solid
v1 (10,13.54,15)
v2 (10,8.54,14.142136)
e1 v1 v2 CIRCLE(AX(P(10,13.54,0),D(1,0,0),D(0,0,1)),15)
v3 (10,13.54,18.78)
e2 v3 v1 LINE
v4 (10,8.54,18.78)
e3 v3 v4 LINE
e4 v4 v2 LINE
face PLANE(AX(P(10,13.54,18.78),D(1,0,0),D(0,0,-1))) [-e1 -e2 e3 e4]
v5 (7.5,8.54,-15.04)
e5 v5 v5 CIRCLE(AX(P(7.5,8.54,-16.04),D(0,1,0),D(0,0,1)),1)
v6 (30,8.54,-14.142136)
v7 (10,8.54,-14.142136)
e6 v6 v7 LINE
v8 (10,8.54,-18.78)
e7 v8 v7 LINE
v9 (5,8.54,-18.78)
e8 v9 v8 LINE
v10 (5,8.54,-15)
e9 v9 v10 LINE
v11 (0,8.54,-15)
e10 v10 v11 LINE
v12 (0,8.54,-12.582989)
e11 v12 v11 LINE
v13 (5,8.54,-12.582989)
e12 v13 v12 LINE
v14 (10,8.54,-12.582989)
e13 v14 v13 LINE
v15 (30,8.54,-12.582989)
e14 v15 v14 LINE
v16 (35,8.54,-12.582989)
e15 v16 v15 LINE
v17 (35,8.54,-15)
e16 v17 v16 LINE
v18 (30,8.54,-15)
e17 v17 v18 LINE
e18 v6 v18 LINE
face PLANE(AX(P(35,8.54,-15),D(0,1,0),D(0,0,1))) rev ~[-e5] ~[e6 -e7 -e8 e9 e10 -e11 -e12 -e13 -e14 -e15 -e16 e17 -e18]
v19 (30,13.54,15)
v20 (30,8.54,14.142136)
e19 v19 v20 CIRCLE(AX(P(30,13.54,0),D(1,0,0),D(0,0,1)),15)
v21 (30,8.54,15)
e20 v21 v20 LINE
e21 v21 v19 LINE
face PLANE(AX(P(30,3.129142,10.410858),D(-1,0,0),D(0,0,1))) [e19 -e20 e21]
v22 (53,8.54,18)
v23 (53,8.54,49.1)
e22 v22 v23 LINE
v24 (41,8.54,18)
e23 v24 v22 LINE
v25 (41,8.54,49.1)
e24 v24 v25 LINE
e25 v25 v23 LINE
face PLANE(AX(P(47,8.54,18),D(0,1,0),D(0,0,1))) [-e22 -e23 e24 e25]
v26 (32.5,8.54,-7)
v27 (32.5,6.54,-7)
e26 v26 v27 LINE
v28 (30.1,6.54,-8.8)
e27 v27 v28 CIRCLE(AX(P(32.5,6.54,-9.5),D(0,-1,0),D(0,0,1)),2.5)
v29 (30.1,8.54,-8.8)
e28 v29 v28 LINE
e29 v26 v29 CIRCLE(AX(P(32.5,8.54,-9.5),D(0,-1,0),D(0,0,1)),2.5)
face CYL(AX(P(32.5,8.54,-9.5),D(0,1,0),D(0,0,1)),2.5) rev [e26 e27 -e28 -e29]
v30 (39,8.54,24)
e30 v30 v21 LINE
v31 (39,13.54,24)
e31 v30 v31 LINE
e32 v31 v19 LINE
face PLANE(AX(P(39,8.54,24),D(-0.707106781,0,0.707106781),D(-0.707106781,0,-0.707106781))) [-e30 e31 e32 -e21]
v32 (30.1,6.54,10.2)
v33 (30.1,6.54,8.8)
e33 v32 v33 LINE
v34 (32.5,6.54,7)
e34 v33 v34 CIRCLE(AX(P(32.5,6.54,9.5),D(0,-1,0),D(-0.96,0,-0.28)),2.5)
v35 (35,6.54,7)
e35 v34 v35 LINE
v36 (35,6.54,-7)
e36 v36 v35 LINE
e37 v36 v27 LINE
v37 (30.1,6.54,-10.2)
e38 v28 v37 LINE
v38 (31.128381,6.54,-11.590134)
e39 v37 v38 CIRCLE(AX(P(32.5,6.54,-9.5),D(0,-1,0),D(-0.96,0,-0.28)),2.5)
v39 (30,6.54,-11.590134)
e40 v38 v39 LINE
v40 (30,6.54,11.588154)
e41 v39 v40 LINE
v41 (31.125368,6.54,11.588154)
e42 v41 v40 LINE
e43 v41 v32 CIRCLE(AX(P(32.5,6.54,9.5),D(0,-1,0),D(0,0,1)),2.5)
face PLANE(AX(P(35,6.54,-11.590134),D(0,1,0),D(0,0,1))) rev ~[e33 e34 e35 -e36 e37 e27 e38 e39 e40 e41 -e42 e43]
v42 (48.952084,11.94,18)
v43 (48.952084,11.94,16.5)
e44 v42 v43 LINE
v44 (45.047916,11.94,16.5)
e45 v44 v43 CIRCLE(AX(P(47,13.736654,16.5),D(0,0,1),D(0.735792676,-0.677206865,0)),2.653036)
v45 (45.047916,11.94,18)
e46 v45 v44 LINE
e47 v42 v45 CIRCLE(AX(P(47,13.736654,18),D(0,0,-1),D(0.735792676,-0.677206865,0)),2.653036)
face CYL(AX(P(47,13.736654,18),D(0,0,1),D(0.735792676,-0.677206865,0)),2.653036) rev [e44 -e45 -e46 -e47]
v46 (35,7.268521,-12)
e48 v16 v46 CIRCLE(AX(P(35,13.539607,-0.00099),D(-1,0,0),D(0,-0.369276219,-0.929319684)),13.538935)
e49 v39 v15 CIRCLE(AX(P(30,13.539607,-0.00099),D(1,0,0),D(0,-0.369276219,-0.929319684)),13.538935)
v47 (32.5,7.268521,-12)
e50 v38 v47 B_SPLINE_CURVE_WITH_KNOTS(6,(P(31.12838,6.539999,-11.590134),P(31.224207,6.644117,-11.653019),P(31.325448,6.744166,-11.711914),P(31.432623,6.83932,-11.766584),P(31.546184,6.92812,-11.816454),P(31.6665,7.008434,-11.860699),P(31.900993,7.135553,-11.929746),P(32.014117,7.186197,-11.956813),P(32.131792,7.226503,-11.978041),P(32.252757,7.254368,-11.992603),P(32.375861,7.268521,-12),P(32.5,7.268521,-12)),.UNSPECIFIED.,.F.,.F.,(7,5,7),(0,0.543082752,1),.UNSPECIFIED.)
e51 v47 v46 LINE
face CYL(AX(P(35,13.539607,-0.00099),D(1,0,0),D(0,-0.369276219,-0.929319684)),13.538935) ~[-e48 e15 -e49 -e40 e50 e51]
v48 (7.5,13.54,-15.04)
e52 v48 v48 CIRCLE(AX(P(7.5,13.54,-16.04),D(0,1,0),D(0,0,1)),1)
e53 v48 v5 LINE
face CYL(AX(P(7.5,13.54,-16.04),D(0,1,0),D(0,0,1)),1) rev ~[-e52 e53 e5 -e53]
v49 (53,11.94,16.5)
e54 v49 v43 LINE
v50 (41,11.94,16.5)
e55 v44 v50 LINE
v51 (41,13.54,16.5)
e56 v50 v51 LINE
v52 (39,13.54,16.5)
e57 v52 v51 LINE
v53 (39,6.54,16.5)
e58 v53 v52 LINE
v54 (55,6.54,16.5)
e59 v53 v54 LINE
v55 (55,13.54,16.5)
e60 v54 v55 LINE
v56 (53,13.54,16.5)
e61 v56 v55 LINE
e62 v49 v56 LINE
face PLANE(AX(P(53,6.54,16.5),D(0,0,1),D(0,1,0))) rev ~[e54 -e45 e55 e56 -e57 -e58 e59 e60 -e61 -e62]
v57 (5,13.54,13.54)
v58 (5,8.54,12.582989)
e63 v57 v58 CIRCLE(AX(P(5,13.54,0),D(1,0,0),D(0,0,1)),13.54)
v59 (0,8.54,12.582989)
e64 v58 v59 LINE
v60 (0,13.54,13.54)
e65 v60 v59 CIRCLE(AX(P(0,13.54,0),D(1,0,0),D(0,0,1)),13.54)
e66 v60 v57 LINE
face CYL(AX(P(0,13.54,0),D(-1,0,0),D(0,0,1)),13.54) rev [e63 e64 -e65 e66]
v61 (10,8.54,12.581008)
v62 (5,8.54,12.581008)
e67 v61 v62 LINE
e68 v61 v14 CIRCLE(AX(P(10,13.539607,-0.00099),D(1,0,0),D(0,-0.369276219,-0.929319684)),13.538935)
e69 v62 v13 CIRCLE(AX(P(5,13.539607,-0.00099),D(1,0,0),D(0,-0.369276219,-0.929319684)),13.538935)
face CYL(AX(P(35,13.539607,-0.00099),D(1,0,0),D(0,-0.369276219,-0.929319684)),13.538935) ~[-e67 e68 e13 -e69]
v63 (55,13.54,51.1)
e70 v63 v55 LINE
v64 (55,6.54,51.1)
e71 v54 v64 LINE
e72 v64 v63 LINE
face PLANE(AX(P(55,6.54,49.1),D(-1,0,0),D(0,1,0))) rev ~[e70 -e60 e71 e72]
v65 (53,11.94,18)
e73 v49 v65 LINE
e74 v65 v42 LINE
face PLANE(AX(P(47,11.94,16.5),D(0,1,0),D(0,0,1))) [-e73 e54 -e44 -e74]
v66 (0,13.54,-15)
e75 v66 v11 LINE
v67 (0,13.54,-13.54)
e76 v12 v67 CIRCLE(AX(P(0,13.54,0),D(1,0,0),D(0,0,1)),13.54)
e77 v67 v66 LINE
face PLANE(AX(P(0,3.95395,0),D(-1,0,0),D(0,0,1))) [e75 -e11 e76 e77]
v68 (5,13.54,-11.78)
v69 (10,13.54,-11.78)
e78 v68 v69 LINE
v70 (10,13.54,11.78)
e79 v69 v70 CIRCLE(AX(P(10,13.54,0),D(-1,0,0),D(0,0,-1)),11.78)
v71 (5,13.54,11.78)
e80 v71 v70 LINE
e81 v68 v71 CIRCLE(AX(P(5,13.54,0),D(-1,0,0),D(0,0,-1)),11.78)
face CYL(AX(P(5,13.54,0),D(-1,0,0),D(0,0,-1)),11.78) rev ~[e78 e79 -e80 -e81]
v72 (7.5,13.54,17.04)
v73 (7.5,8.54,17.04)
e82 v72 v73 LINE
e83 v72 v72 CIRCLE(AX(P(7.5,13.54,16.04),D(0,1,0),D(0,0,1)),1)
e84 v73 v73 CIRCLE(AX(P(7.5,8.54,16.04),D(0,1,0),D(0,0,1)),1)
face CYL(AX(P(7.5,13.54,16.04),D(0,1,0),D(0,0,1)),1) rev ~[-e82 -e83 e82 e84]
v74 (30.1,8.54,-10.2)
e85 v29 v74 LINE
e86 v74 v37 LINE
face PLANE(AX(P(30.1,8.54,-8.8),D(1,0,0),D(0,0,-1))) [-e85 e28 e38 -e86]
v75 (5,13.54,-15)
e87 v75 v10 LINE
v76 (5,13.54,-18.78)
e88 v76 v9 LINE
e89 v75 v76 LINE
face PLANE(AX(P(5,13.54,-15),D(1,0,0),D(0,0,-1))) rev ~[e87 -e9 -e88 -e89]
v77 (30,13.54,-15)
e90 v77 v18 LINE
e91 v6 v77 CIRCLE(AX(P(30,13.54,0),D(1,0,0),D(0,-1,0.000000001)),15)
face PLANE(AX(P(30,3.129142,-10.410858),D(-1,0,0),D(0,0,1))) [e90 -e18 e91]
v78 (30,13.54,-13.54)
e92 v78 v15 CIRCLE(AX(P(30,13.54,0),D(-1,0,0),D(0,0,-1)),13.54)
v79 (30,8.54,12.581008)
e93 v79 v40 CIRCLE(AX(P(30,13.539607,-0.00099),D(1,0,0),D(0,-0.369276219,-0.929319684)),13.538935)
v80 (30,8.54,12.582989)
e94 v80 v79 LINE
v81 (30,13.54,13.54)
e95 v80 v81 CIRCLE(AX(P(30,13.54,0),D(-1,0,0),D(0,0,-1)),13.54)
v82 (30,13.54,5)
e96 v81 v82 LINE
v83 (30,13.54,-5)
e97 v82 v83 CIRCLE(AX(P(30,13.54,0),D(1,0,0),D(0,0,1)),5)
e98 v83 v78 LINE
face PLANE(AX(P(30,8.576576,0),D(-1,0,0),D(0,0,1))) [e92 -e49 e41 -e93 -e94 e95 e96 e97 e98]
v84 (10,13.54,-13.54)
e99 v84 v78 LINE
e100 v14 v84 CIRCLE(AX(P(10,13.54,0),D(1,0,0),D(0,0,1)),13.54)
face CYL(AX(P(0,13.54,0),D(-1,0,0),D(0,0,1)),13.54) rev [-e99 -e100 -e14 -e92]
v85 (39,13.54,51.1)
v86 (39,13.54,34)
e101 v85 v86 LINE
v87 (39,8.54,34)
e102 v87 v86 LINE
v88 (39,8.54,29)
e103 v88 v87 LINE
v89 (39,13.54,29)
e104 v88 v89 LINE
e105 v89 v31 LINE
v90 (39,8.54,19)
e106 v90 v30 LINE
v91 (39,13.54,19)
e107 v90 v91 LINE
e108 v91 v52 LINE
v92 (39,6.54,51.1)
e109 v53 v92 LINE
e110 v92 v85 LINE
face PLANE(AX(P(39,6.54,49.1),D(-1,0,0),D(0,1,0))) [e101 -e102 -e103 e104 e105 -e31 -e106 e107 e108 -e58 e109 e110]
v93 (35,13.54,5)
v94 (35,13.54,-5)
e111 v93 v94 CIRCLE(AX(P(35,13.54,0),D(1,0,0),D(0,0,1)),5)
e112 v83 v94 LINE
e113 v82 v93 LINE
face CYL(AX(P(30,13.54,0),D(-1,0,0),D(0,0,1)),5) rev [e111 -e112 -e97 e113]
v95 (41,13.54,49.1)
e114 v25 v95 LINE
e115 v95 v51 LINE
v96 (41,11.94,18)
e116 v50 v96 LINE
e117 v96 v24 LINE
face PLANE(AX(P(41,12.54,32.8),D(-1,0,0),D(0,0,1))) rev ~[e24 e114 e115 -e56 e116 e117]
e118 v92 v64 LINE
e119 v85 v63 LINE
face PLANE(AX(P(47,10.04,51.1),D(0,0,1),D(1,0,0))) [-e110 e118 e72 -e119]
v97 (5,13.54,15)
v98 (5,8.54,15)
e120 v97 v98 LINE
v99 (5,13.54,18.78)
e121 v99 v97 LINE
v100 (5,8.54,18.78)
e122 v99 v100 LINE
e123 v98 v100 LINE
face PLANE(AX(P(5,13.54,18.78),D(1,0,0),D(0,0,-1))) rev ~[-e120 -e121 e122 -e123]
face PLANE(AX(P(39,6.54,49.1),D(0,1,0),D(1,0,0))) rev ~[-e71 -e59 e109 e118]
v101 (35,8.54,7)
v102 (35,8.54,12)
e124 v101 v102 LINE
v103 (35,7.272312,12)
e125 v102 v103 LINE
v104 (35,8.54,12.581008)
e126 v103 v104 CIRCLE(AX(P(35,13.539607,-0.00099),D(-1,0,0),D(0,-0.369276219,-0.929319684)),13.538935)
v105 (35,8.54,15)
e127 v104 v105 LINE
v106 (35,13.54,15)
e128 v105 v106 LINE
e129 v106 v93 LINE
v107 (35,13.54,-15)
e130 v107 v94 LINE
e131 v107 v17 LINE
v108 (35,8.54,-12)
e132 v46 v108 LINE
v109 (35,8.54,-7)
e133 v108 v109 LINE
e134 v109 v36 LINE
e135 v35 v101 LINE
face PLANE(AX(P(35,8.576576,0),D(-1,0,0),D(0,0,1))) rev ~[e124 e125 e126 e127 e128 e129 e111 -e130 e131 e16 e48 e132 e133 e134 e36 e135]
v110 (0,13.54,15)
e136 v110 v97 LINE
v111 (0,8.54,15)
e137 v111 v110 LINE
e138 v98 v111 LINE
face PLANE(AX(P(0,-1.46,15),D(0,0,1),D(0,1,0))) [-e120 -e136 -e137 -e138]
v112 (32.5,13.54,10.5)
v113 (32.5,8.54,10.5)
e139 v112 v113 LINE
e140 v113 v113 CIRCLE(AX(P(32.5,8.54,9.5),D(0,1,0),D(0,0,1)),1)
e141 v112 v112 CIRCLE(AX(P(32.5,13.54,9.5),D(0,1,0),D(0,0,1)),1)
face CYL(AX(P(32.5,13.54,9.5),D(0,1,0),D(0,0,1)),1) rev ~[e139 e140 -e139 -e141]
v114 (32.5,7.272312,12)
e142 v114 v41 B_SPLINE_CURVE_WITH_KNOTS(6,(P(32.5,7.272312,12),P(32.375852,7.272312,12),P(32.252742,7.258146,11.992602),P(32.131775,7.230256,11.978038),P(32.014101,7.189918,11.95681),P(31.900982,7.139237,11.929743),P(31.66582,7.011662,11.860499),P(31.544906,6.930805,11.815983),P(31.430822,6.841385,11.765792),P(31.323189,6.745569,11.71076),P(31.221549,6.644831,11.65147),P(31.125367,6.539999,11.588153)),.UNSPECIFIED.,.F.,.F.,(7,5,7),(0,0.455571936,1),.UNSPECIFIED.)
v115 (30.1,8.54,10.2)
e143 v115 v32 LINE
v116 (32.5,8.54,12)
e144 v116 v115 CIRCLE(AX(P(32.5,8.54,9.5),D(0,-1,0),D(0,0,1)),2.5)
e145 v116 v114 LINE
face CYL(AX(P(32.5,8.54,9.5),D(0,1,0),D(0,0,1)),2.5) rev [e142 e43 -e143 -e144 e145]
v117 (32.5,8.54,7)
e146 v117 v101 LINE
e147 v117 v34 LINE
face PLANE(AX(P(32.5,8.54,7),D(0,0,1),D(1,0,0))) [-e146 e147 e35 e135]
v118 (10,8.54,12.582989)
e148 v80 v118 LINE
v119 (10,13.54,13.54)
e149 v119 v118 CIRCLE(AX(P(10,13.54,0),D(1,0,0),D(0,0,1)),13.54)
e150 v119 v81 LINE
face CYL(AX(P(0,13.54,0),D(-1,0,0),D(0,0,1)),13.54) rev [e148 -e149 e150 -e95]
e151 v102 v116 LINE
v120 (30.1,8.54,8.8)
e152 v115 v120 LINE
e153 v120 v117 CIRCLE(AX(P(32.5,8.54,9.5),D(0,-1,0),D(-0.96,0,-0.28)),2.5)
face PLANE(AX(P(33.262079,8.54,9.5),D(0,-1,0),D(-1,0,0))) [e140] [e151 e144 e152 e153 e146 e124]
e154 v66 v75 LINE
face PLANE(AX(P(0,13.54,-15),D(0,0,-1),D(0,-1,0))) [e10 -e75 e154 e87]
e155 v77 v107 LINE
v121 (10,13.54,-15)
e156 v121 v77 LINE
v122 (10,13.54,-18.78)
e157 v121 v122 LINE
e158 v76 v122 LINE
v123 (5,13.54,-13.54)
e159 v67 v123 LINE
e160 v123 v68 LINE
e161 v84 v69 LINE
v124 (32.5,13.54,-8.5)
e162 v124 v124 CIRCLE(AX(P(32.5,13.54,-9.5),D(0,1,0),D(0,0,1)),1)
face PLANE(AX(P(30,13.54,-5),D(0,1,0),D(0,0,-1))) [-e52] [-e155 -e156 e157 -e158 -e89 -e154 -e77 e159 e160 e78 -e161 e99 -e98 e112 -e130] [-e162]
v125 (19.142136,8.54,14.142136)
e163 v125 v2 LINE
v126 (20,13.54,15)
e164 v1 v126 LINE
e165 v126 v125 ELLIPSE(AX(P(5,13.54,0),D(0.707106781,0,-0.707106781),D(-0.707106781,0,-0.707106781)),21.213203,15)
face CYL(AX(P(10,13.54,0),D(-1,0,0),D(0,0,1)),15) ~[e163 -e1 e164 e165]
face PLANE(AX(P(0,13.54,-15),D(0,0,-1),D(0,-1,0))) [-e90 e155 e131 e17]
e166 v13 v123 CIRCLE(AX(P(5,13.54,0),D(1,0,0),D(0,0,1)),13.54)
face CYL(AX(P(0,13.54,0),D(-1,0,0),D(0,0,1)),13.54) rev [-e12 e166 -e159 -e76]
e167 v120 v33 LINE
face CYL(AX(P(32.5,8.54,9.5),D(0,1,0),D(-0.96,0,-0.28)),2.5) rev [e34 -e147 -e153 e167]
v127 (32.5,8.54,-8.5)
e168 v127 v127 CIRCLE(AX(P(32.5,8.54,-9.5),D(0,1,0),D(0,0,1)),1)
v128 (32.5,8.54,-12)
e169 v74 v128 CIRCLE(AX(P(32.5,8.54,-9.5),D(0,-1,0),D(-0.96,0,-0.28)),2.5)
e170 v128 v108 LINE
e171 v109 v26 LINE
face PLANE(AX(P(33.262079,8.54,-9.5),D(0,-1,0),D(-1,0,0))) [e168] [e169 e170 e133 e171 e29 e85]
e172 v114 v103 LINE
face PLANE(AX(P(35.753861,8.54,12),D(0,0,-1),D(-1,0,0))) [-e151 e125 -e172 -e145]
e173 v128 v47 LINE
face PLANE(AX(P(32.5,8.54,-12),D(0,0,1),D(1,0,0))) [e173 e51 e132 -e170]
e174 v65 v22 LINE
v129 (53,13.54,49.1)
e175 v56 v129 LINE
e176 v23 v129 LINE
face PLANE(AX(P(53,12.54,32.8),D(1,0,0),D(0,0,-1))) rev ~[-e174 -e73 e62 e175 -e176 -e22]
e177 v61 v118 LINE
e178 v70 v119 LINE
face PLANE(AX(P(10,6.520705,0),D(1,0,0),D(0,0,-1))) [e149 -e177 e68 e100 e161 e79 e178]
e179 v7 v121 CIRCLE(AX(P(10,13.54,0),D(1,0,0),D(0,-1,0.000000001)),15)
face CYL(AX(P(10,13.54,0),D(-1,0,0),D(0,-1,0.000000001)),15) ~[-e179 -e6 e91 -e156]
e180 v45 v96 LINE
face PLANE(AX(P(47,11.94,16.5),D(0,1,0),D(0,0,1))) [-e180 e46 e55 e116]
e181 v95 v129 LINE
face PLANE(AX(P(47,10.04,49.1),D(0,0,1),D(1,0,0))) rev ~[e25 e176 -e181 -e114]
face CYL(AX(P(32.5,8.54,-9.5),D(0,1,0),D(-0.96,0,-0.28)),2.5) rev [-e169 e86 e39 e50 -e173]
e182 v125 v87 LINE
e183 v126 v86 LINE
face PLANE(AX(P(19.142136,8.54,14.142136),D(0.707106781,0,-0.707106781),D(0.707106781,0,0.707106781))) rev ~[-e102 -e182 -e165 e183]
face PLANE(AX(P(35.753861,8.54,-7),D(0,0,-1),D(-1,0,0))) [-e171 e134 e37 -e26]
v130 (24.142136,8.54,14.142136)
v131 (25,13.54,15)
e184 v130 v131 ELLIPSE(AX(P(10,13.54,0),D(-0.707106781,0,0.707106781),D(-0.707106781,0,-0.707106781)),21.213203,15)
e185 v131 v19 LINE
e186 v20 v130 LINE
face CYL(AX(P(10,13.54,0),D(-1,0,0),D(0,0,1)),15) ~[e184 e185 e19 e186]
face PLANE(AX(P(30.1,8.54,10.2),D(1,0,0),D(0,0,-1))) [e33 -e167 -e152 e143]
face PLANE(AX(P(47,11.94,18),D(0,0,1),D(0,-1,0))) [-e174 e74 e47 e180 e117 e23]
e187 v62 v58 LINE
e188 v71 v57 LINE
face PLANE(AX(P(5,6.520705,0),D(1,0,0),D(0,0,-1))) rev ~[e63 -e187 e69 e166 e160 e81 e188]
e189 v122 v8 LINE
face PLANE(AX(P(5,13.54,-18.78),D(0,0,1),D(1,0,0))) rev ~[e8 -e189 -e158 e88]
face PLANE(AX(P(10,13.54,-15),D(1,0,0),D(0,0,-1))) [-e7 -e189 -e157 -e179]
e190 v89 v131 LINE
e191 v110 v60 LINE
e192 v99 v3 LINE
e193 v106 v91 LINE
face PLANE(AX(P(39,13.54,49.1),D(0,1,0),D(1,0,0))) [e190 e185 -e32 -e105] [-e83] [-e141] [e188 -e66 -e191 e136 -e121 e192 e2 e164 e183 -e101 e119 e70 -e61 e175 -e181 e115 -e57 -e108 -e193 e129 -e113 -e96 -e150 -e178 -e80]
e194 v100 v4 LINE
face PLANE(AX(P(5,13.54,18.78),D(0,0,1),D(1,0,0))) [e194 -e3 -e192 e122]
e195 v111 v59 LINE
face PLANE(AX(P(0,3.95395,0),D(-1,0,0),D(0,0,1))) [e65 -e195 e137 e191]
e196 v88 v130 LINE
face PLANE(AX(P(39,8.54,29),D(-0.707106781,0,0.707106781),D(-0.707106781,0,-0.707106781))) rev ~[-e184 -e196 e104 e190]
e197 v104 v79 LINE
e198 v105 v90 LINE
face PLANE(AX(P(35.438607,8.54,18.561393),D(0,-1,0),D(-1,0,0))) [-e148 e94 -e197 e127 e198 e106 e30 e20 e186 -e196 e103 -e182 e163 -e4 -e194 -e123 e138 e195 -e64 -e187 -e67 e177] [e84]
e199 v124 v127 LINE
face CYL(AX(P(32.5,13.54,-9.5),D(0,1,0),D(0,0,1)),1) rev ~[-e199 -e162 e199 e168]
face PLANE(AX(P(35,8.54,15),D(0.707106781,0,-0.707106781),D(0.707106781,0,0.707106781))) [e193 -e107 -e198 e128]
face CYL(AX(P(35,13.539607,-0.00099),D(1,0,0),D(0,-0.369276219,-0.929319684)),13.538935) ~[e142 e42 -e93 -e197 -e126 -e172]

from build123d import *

# Parameters (mm, degrees)
BOSS_EXTRUDE1_DEPTH     = 35
BOSS_EXTRUDE2_START     = -5
BOSS_EXTRUDE2_DEPTH     = 5
BOSS_EXTRUDE3_START     = -5
BOSS_EXTRUDE3_DEPTH     = 5
CUT_EXTRUDE1_DEPTH      = 31.1
SKETCH10_W              = 5
SKETCH10_H              = 3.78
BOSS_EXTRUDE6_DEPTH     = 5
CUT_EXTRUDE4_START      = -10
CUT_EXTRUDE4_DEPTH      = 20
SKETCH12_R              = 1
CUT_EXTRUDE5_DEPTH      = 10
CUT_EXTRUDE11_DEPTH     = 2
SKETCH14_R              = 2.5
CUT_EXTRUDE12_DEPTH     = 2
BOSS_EXTRUDE7_START     = -2
SKETCH15_R              = 2
BOSS_EXTRUDE7_DEPTH     = 5
BOSS_EXTRUDE8_DEPTH     = 6
SKETCH18_W              = 32.6
SKETCH18_H              = 12
BOSS_EXTRUDE9_DEPTH     = 2
SKETCH19_W              = 32.6
SKETCH19_H              = 12
BOSS_EXTRUDE10_DEPTH    = 2
CUT_EXTRUDE13_DEPTH     = 64.083608013
BOSS_EXTRUDE12_START    = -5
BOSS_EXTRUDE12_DEPTH    = 5
SKETCH22_W              = 16
SKETCH22_H              = 32.6
CUT_EXTRUDE14_DEPTH     = 5
SKETCH23_R              = 2
CUT_EXTRUDE15_DEPTH     = 5
SKETCH24_W              = 23.178287832
SKETCH24_H              = 10
CUT_EXTRUDE_THIN1_DEPTH = 5
CUT_EXTRUDE16_DEPTH     = 5
SKETCH26_W              = 16
SKETCH26_H              = 7
BOSS_EXTRUDE13_DEPTH    = 2


with BuildPart() as part:
    # Sketch2 → Boss-Extrude1 (new body)
    with BuildSketch(Plane(origin=(0, 0, 0), x_dir=(0, 0, -1), z_dir=(1, 0, 0))):
        with BuildLine():
            Line((-15, 13.54), (-13.54, 13.54))
            ThreePointArc((-13.54, 13.54), (0, 0), (13.54, 13.54))
            Line((13.54, 13.54), (15, 13.54))
            Line((15, 13.54), (15, -1.46))
            Line((15, -1.46), (0, -1.46))
            Line((0, -1.46), (-15, -1.46))
            Line((-15, -1.46), (-15, 13.54))
        make_face()
    extrude(amount=BOSS_EXTRUDE1_DEPTH)

    # Sketch3 → Boss-Extrude2 (add)
    with BuildSketch(Plane(origin=(35, 0, 0), x_dir=(0, 0, -1), z_dir=(1, 0, 0)).offset(BOSS_EXTRUDE2_START)):
        with BuildLine():
            Line((-13.54, 13.54), (-5, 13.54))
            ThreePointArc((-5, 13.54), (0, 8.54), (5, 13.54))
            Line((5, 13.54), (13.54, 13.54))
            ThreePointArc((13.54, 13.54), (0, 0), (-13.54, 13.54))
        make_face()
    extrude(amount=BOSS_EXTRUDE2_DEPTH)

    # Sketch4 → Boss-Extrude3 (add)
    with BuildSketch(Plane.ZY.offset(BOSS_EXTRUDE3_START)):
        with BuildLine():
            Line((-13.54, 13.54), (-11.78, 13.54))
            ThreePointArc((-11.78, 13.54), (0, 1.76), (11.78, 13.54))
            Line((11.78, 13.54), (13.54, 13.54))
            ThreePointArc((13.54, 13.54), (0, 0), (-13.54, 13.54))
        make_face()
    extrude(amount=-BOSS_EXTRUDE3_DEPTH)

    # Sketch7 → Cut-Extrude1 (cut)
    with BuildSketch(Plane(origin=(0, 0, -15), x_dir=(-1, 0, 0), z_dir=(0, 0, -1))):
        with BuildLine():
            Line((-33.5, -1.74), (-39.5, -1.74))
            Line((-39.5, -1.74), (-39.5, 4.26))
            ThreePointArc((-39.5, 4.26), (-35.257359313, 2.502640687), (-33.5, -1.74))
        make_face()
    extrude(amount=-CUT_EXTRUDE1_DEPTH, mode=Mode.SUBTRACT)

    # Sketch10 → Boss-Extrude6 (add)
    with BuildSketch(Plane(origin=(0, 13.54, 0), x_dir=(1, 0, 0), z_dir=(0, 1, 0))):
        with Locations((7.5, -16.89)):
            Rectangle(SKETCH10_W, SKETCH10_H)
        with Locations((7.5, 16.89)):
            Rectangle(SKETCH10_W, SKETCH10_H)
    extrude(amount=-BOSS_EXTRUDE6_DEPTH)

    # Sketch11 → Cut-Extrude4 (cut)
    with BuildSketch(Plane.ZY.offset(CUT_EXTRUDE4_START)):
        with BuildLine():
            ThreePointArc((15, 13.54), (10.606601722, 2.933398287), (1.2e-08, -1.46))
            Line((1.2e-08, -1.46), (15, -1.46))
            Line((15, -1.46), (15, 13.54))
        make_face()
        with BuildLine():
            ThreePointArc((1.2e-08, -1.46), (-10.606601713, 2.933398278), (-15, 13.54))
            Line((-15, 13.54), (-15, -1.46))
            Line((-15, -1.46), (1.2e-08, -1.46))
        make_face()
    extrude(amount=-CUT_EXTRUDE4_DEPTH, mode=Mode.SUBTRACT)

    # Sketch12 → Cut-Extrude5 (cut)
    with BuildSketch(Plane(origin=(0, 13.54, 0), x_dir=(1, 0, 0), z_dir=(0, 1, 0))):
        with Locations(Location((7.5, -16.04, 0), (0, 0, 270))):
            Circle(SKETCH12_R)
        with Locations(Location((7.5, 16.04, 0), (0, 0, 270))):
            Circle(SKETCH12_R)
        with Locations(Location((32.5, -9.5, 0), (0, 0, 270))):
            Circle(SKETCH12_R)
        with Locations(Location((32.5, 9.5, 0), (0, 0, 270))):
            Circle(SKETCH12_R)
    extrude(amount=-CUT_EXTRUDE5_DEPTH, mode=Mode.SUBTRACT)

    # Sketch13 → Cut-Extrude11 (cut)
    with BuildSketch(Plane(origin=(0, 8.54, 0), x_dir=(1, 0, 0), z_dir=(0, 1, 0))):
        with BuildLine():
            Line((32.5, 12), (35, 12))
            Line((35, 12), (35.753860742, 12))
            Line((35.753860742, 12), (35.753860742, 7))
            Line((35.753860742, 7), (35, 7))
            Line((35, 7), (32.5, 7))
            ThreePointArc((32.5, 7), (31, 7.5), (30.1, 8.8))
            Line((30.1, 8.8), (30.1, 9.5))
            Line((30.1, 9.5), (30.1, 10.2))
            ThreePointArc((30.1, 10.2), (31, 11.5), (32.5, 12))
        make_face()
        with BuildLine():
            Line((32.5, -7), (35, -7))
            Line((35, -7), (35.753860742, -7))
            Line((35.753860742, -7), (35.753860742, -12))
            Line((35.753860742, -12), (32.5, -12))
            ThreePointArc((32.5, -12), (31, -11.5), (30.1, -10.2))
            Line((30.1, -10.2), (30.1, -9.5))
            Line((30.1, -9.5), (30.1, -8.8))
            ThreePointArc((30.1, -8.8), (31, -7.5), (32.5, -7))
        make_face()
    extrude(amount=-CUT_EXTRUDE11_DEPTH, mode=Mode.SUBTRACT)

    # Sketch14 → Cut-Extrude12 (cut)
    with BuildSketch(Plane.XZ.offset(-8.54)):
        with Locations((7.5, 16.04)):
            Circle(SKETCH14_R)
        with Locations((7.5, -16.04)):
            Circle(SKETCH14_R)
    extrude(amount=CUT_EXTRUDE12_DEPTH, mode=Mode.SUBTRACT)

    # Sketch20 → Cut-Extrude13 (cut, through all)
    with BuildSketch(Plane(origin=(35, 0, 0), x_dir=(0, 0, -1), z_dir=(1, 0, 0))):
        with BuildLine():
            Line((15, 8.54), (12.582988516, 8.54))
            ThreePointArc((12.582988516, 8.54), (0.000990149, 0.000672008), (-12.581008218, 8.54))
            Line((-12.581008218, 8.54), (-15, 8.54))
            Line((-15, 8.54), (-15, -1.46))
            Line((-15, -1.46), (15, -1.46))
            Line((15, -1.46), (15, 8.54))
        make_face()
    extrude(amount=-CUT_EXTRUDE13_DEPTH, mode=Mode.SUBTRACT)



with BuildPart() as body_2:
    # Sketch15 → Boss-Extrude7 (new body)
    with BuildSketch(Plane(origin=(0, 0, 0), x_dir=(-1, 0, 0), z_dir=(0, 0, -1)).offset(BOSS_EXTRUDE7_START)):
        with Locations((-47.000109969, 13.54)):
            Circle(SKETCH15_R)
    extrude(amount=-BOSS_EXTRUDE7_DEPTH)

    # Sketch23 → Cut-Extrude15 (cut)
    with BuildSketch(Plane(origin=(0, 0, 2), x_dir=(-1, 0, 0), z_dir=(0, 0, -1))):
        with Locations((-47.000109969, 13.54)):
            Circle(SKETCH23_R)
    extrude(amount=-CUT_EXTRUDE15_DEPTH, mode=Mode.SUBTRACT)


with BuildPart() as body_3:
    # Sketch16 → Boss-Extrude8 (new, symmetric)
    with BuildSketch(Plane(origin=(47, 0, 0), x_dir=(0, 0, -1), z_dir=(1, 0, 0))):
        Polygon((-18, 11.94), (-18, 8.54), (-49.1, 8.54), (-49.1, 6.54), (-16.5, 6.54), (-16.5, 11.94), align=None)
    extrude(amount=BOSS_EXTRUDE8_DEPTH, both=True)

    # Sketch18 → Boss-Extrude9 (add)
    with BuildSketch(Plane.ZY.offset(-41)):
        with Locations((32.8, 12.54)):
            Rectangle(SKETCH18_W, SKETCH18_H)
    extrude(amount=BOSS_EXTRUDE9_DEPTH)

    # Sketch19 → Boss-Extrude10 (add)
    with BuildSketch(Plane(origin=(53, 0, 0), x_dir=(0, 0, -1), z_dir=(1, 0, 0))):
        with Locations((-32.8, 12.54)):
            Rectangle(SKETCH19_W, SKETCH19_H)
    extrude(amount=BOSS_EXTRUDE10_DEPTH)


with BuildPart() as part_1:
    add(part.part)

    add(body_3.part)  # Boss-Extrude12 merges body 3
    # Sketch21 → Boss-Extrude12 (add)
    with BuildSketch(Plane(origin=(0, 13.54, 0), x_dir=(1, 0, 0), z_dir=(0, 1, 0)).offset(BOSS_EXTRUDE12_START)):
        Polygon((35, -15), (39, -19), (39, -24), (30, -15), align=None)
        Polygon((25, -15), (39, -29), (39, -34), (20, -15), (19.142135624, -14.142135624), (24.142135624, -14.142135624), align=None)
    extrude(amount=BOSS_EXTRUDE12_DEPTH)

    # Sketch22 → Cut-Extrude14 (cut)
    with BuildSketch(Plane(origin=(0, 13.54, 0), x_dir=(1, 0, 0), z_dir=(0, 1, 0))):
        with Locations((47, -32.8)):
            Rectangle(SKETCH22_W, SKETCH22_H)
    extrude(amount=CUT_EXTRUDE14_DEPTH, mode=Mode.SUBTRACT)

    # Sketch24 → Cut-Extrude-Thin1 (cut)
    with BuildSketch(Plane(origin=(35, 0, 0), x_dir=(0, 0, -1), z_dir=(1, 0, 0))):
        with Locations((0.000990149, 1.54)):
            Rectangle(SKETCH24_W, SKETCH24_H)
        with BuildLine():
            ThreePointArc((-11.587661518, 6.54), (0, 0.002130911), (11.587661518, 6.54))
            Line((11.587661518, 6.54), (20.14710425, 1.369319183))
            ThreePointArc((20.14710425, 1.369319183), (0, -9.997869089), (-20.14710425, 1.369319183))
            Line((-20.14710425, 1.369319183), (-11.587661518, 6.54))
        make_face()
    extrude(amount=-CUT_EXTRUDE_THIN1_DEPTH, mode=Mode.SUBTRACT)

    # Sketch25 → Cut-Extrude16 (cut)
    with BuildSketch(Plane.XY.offset(18)):
        with BuildLine():
            Line((45.047915657, 11.94), (48.952084343, 11.94))
            ThreePointArc((48.952084343, 11.94), (47, 11.083618243), (45.047915657, 11.94))
        make_face()
    extrude(amount=-CUT_EXTRUDE16_DEPTH, mode=Mode.SUBTRACT)

    # Sketch26 → Boss-Extrude13 (add)
    with BuildSketch(Plane.XY.offset(49.1)):
        with Locations((47, 10.04)):
            Rectangle(SKETCH26_W, SKETCH26_H)
    extrude(amount=BOSS_EXTRUDE13_DEPTH)


solid = part_1.part
